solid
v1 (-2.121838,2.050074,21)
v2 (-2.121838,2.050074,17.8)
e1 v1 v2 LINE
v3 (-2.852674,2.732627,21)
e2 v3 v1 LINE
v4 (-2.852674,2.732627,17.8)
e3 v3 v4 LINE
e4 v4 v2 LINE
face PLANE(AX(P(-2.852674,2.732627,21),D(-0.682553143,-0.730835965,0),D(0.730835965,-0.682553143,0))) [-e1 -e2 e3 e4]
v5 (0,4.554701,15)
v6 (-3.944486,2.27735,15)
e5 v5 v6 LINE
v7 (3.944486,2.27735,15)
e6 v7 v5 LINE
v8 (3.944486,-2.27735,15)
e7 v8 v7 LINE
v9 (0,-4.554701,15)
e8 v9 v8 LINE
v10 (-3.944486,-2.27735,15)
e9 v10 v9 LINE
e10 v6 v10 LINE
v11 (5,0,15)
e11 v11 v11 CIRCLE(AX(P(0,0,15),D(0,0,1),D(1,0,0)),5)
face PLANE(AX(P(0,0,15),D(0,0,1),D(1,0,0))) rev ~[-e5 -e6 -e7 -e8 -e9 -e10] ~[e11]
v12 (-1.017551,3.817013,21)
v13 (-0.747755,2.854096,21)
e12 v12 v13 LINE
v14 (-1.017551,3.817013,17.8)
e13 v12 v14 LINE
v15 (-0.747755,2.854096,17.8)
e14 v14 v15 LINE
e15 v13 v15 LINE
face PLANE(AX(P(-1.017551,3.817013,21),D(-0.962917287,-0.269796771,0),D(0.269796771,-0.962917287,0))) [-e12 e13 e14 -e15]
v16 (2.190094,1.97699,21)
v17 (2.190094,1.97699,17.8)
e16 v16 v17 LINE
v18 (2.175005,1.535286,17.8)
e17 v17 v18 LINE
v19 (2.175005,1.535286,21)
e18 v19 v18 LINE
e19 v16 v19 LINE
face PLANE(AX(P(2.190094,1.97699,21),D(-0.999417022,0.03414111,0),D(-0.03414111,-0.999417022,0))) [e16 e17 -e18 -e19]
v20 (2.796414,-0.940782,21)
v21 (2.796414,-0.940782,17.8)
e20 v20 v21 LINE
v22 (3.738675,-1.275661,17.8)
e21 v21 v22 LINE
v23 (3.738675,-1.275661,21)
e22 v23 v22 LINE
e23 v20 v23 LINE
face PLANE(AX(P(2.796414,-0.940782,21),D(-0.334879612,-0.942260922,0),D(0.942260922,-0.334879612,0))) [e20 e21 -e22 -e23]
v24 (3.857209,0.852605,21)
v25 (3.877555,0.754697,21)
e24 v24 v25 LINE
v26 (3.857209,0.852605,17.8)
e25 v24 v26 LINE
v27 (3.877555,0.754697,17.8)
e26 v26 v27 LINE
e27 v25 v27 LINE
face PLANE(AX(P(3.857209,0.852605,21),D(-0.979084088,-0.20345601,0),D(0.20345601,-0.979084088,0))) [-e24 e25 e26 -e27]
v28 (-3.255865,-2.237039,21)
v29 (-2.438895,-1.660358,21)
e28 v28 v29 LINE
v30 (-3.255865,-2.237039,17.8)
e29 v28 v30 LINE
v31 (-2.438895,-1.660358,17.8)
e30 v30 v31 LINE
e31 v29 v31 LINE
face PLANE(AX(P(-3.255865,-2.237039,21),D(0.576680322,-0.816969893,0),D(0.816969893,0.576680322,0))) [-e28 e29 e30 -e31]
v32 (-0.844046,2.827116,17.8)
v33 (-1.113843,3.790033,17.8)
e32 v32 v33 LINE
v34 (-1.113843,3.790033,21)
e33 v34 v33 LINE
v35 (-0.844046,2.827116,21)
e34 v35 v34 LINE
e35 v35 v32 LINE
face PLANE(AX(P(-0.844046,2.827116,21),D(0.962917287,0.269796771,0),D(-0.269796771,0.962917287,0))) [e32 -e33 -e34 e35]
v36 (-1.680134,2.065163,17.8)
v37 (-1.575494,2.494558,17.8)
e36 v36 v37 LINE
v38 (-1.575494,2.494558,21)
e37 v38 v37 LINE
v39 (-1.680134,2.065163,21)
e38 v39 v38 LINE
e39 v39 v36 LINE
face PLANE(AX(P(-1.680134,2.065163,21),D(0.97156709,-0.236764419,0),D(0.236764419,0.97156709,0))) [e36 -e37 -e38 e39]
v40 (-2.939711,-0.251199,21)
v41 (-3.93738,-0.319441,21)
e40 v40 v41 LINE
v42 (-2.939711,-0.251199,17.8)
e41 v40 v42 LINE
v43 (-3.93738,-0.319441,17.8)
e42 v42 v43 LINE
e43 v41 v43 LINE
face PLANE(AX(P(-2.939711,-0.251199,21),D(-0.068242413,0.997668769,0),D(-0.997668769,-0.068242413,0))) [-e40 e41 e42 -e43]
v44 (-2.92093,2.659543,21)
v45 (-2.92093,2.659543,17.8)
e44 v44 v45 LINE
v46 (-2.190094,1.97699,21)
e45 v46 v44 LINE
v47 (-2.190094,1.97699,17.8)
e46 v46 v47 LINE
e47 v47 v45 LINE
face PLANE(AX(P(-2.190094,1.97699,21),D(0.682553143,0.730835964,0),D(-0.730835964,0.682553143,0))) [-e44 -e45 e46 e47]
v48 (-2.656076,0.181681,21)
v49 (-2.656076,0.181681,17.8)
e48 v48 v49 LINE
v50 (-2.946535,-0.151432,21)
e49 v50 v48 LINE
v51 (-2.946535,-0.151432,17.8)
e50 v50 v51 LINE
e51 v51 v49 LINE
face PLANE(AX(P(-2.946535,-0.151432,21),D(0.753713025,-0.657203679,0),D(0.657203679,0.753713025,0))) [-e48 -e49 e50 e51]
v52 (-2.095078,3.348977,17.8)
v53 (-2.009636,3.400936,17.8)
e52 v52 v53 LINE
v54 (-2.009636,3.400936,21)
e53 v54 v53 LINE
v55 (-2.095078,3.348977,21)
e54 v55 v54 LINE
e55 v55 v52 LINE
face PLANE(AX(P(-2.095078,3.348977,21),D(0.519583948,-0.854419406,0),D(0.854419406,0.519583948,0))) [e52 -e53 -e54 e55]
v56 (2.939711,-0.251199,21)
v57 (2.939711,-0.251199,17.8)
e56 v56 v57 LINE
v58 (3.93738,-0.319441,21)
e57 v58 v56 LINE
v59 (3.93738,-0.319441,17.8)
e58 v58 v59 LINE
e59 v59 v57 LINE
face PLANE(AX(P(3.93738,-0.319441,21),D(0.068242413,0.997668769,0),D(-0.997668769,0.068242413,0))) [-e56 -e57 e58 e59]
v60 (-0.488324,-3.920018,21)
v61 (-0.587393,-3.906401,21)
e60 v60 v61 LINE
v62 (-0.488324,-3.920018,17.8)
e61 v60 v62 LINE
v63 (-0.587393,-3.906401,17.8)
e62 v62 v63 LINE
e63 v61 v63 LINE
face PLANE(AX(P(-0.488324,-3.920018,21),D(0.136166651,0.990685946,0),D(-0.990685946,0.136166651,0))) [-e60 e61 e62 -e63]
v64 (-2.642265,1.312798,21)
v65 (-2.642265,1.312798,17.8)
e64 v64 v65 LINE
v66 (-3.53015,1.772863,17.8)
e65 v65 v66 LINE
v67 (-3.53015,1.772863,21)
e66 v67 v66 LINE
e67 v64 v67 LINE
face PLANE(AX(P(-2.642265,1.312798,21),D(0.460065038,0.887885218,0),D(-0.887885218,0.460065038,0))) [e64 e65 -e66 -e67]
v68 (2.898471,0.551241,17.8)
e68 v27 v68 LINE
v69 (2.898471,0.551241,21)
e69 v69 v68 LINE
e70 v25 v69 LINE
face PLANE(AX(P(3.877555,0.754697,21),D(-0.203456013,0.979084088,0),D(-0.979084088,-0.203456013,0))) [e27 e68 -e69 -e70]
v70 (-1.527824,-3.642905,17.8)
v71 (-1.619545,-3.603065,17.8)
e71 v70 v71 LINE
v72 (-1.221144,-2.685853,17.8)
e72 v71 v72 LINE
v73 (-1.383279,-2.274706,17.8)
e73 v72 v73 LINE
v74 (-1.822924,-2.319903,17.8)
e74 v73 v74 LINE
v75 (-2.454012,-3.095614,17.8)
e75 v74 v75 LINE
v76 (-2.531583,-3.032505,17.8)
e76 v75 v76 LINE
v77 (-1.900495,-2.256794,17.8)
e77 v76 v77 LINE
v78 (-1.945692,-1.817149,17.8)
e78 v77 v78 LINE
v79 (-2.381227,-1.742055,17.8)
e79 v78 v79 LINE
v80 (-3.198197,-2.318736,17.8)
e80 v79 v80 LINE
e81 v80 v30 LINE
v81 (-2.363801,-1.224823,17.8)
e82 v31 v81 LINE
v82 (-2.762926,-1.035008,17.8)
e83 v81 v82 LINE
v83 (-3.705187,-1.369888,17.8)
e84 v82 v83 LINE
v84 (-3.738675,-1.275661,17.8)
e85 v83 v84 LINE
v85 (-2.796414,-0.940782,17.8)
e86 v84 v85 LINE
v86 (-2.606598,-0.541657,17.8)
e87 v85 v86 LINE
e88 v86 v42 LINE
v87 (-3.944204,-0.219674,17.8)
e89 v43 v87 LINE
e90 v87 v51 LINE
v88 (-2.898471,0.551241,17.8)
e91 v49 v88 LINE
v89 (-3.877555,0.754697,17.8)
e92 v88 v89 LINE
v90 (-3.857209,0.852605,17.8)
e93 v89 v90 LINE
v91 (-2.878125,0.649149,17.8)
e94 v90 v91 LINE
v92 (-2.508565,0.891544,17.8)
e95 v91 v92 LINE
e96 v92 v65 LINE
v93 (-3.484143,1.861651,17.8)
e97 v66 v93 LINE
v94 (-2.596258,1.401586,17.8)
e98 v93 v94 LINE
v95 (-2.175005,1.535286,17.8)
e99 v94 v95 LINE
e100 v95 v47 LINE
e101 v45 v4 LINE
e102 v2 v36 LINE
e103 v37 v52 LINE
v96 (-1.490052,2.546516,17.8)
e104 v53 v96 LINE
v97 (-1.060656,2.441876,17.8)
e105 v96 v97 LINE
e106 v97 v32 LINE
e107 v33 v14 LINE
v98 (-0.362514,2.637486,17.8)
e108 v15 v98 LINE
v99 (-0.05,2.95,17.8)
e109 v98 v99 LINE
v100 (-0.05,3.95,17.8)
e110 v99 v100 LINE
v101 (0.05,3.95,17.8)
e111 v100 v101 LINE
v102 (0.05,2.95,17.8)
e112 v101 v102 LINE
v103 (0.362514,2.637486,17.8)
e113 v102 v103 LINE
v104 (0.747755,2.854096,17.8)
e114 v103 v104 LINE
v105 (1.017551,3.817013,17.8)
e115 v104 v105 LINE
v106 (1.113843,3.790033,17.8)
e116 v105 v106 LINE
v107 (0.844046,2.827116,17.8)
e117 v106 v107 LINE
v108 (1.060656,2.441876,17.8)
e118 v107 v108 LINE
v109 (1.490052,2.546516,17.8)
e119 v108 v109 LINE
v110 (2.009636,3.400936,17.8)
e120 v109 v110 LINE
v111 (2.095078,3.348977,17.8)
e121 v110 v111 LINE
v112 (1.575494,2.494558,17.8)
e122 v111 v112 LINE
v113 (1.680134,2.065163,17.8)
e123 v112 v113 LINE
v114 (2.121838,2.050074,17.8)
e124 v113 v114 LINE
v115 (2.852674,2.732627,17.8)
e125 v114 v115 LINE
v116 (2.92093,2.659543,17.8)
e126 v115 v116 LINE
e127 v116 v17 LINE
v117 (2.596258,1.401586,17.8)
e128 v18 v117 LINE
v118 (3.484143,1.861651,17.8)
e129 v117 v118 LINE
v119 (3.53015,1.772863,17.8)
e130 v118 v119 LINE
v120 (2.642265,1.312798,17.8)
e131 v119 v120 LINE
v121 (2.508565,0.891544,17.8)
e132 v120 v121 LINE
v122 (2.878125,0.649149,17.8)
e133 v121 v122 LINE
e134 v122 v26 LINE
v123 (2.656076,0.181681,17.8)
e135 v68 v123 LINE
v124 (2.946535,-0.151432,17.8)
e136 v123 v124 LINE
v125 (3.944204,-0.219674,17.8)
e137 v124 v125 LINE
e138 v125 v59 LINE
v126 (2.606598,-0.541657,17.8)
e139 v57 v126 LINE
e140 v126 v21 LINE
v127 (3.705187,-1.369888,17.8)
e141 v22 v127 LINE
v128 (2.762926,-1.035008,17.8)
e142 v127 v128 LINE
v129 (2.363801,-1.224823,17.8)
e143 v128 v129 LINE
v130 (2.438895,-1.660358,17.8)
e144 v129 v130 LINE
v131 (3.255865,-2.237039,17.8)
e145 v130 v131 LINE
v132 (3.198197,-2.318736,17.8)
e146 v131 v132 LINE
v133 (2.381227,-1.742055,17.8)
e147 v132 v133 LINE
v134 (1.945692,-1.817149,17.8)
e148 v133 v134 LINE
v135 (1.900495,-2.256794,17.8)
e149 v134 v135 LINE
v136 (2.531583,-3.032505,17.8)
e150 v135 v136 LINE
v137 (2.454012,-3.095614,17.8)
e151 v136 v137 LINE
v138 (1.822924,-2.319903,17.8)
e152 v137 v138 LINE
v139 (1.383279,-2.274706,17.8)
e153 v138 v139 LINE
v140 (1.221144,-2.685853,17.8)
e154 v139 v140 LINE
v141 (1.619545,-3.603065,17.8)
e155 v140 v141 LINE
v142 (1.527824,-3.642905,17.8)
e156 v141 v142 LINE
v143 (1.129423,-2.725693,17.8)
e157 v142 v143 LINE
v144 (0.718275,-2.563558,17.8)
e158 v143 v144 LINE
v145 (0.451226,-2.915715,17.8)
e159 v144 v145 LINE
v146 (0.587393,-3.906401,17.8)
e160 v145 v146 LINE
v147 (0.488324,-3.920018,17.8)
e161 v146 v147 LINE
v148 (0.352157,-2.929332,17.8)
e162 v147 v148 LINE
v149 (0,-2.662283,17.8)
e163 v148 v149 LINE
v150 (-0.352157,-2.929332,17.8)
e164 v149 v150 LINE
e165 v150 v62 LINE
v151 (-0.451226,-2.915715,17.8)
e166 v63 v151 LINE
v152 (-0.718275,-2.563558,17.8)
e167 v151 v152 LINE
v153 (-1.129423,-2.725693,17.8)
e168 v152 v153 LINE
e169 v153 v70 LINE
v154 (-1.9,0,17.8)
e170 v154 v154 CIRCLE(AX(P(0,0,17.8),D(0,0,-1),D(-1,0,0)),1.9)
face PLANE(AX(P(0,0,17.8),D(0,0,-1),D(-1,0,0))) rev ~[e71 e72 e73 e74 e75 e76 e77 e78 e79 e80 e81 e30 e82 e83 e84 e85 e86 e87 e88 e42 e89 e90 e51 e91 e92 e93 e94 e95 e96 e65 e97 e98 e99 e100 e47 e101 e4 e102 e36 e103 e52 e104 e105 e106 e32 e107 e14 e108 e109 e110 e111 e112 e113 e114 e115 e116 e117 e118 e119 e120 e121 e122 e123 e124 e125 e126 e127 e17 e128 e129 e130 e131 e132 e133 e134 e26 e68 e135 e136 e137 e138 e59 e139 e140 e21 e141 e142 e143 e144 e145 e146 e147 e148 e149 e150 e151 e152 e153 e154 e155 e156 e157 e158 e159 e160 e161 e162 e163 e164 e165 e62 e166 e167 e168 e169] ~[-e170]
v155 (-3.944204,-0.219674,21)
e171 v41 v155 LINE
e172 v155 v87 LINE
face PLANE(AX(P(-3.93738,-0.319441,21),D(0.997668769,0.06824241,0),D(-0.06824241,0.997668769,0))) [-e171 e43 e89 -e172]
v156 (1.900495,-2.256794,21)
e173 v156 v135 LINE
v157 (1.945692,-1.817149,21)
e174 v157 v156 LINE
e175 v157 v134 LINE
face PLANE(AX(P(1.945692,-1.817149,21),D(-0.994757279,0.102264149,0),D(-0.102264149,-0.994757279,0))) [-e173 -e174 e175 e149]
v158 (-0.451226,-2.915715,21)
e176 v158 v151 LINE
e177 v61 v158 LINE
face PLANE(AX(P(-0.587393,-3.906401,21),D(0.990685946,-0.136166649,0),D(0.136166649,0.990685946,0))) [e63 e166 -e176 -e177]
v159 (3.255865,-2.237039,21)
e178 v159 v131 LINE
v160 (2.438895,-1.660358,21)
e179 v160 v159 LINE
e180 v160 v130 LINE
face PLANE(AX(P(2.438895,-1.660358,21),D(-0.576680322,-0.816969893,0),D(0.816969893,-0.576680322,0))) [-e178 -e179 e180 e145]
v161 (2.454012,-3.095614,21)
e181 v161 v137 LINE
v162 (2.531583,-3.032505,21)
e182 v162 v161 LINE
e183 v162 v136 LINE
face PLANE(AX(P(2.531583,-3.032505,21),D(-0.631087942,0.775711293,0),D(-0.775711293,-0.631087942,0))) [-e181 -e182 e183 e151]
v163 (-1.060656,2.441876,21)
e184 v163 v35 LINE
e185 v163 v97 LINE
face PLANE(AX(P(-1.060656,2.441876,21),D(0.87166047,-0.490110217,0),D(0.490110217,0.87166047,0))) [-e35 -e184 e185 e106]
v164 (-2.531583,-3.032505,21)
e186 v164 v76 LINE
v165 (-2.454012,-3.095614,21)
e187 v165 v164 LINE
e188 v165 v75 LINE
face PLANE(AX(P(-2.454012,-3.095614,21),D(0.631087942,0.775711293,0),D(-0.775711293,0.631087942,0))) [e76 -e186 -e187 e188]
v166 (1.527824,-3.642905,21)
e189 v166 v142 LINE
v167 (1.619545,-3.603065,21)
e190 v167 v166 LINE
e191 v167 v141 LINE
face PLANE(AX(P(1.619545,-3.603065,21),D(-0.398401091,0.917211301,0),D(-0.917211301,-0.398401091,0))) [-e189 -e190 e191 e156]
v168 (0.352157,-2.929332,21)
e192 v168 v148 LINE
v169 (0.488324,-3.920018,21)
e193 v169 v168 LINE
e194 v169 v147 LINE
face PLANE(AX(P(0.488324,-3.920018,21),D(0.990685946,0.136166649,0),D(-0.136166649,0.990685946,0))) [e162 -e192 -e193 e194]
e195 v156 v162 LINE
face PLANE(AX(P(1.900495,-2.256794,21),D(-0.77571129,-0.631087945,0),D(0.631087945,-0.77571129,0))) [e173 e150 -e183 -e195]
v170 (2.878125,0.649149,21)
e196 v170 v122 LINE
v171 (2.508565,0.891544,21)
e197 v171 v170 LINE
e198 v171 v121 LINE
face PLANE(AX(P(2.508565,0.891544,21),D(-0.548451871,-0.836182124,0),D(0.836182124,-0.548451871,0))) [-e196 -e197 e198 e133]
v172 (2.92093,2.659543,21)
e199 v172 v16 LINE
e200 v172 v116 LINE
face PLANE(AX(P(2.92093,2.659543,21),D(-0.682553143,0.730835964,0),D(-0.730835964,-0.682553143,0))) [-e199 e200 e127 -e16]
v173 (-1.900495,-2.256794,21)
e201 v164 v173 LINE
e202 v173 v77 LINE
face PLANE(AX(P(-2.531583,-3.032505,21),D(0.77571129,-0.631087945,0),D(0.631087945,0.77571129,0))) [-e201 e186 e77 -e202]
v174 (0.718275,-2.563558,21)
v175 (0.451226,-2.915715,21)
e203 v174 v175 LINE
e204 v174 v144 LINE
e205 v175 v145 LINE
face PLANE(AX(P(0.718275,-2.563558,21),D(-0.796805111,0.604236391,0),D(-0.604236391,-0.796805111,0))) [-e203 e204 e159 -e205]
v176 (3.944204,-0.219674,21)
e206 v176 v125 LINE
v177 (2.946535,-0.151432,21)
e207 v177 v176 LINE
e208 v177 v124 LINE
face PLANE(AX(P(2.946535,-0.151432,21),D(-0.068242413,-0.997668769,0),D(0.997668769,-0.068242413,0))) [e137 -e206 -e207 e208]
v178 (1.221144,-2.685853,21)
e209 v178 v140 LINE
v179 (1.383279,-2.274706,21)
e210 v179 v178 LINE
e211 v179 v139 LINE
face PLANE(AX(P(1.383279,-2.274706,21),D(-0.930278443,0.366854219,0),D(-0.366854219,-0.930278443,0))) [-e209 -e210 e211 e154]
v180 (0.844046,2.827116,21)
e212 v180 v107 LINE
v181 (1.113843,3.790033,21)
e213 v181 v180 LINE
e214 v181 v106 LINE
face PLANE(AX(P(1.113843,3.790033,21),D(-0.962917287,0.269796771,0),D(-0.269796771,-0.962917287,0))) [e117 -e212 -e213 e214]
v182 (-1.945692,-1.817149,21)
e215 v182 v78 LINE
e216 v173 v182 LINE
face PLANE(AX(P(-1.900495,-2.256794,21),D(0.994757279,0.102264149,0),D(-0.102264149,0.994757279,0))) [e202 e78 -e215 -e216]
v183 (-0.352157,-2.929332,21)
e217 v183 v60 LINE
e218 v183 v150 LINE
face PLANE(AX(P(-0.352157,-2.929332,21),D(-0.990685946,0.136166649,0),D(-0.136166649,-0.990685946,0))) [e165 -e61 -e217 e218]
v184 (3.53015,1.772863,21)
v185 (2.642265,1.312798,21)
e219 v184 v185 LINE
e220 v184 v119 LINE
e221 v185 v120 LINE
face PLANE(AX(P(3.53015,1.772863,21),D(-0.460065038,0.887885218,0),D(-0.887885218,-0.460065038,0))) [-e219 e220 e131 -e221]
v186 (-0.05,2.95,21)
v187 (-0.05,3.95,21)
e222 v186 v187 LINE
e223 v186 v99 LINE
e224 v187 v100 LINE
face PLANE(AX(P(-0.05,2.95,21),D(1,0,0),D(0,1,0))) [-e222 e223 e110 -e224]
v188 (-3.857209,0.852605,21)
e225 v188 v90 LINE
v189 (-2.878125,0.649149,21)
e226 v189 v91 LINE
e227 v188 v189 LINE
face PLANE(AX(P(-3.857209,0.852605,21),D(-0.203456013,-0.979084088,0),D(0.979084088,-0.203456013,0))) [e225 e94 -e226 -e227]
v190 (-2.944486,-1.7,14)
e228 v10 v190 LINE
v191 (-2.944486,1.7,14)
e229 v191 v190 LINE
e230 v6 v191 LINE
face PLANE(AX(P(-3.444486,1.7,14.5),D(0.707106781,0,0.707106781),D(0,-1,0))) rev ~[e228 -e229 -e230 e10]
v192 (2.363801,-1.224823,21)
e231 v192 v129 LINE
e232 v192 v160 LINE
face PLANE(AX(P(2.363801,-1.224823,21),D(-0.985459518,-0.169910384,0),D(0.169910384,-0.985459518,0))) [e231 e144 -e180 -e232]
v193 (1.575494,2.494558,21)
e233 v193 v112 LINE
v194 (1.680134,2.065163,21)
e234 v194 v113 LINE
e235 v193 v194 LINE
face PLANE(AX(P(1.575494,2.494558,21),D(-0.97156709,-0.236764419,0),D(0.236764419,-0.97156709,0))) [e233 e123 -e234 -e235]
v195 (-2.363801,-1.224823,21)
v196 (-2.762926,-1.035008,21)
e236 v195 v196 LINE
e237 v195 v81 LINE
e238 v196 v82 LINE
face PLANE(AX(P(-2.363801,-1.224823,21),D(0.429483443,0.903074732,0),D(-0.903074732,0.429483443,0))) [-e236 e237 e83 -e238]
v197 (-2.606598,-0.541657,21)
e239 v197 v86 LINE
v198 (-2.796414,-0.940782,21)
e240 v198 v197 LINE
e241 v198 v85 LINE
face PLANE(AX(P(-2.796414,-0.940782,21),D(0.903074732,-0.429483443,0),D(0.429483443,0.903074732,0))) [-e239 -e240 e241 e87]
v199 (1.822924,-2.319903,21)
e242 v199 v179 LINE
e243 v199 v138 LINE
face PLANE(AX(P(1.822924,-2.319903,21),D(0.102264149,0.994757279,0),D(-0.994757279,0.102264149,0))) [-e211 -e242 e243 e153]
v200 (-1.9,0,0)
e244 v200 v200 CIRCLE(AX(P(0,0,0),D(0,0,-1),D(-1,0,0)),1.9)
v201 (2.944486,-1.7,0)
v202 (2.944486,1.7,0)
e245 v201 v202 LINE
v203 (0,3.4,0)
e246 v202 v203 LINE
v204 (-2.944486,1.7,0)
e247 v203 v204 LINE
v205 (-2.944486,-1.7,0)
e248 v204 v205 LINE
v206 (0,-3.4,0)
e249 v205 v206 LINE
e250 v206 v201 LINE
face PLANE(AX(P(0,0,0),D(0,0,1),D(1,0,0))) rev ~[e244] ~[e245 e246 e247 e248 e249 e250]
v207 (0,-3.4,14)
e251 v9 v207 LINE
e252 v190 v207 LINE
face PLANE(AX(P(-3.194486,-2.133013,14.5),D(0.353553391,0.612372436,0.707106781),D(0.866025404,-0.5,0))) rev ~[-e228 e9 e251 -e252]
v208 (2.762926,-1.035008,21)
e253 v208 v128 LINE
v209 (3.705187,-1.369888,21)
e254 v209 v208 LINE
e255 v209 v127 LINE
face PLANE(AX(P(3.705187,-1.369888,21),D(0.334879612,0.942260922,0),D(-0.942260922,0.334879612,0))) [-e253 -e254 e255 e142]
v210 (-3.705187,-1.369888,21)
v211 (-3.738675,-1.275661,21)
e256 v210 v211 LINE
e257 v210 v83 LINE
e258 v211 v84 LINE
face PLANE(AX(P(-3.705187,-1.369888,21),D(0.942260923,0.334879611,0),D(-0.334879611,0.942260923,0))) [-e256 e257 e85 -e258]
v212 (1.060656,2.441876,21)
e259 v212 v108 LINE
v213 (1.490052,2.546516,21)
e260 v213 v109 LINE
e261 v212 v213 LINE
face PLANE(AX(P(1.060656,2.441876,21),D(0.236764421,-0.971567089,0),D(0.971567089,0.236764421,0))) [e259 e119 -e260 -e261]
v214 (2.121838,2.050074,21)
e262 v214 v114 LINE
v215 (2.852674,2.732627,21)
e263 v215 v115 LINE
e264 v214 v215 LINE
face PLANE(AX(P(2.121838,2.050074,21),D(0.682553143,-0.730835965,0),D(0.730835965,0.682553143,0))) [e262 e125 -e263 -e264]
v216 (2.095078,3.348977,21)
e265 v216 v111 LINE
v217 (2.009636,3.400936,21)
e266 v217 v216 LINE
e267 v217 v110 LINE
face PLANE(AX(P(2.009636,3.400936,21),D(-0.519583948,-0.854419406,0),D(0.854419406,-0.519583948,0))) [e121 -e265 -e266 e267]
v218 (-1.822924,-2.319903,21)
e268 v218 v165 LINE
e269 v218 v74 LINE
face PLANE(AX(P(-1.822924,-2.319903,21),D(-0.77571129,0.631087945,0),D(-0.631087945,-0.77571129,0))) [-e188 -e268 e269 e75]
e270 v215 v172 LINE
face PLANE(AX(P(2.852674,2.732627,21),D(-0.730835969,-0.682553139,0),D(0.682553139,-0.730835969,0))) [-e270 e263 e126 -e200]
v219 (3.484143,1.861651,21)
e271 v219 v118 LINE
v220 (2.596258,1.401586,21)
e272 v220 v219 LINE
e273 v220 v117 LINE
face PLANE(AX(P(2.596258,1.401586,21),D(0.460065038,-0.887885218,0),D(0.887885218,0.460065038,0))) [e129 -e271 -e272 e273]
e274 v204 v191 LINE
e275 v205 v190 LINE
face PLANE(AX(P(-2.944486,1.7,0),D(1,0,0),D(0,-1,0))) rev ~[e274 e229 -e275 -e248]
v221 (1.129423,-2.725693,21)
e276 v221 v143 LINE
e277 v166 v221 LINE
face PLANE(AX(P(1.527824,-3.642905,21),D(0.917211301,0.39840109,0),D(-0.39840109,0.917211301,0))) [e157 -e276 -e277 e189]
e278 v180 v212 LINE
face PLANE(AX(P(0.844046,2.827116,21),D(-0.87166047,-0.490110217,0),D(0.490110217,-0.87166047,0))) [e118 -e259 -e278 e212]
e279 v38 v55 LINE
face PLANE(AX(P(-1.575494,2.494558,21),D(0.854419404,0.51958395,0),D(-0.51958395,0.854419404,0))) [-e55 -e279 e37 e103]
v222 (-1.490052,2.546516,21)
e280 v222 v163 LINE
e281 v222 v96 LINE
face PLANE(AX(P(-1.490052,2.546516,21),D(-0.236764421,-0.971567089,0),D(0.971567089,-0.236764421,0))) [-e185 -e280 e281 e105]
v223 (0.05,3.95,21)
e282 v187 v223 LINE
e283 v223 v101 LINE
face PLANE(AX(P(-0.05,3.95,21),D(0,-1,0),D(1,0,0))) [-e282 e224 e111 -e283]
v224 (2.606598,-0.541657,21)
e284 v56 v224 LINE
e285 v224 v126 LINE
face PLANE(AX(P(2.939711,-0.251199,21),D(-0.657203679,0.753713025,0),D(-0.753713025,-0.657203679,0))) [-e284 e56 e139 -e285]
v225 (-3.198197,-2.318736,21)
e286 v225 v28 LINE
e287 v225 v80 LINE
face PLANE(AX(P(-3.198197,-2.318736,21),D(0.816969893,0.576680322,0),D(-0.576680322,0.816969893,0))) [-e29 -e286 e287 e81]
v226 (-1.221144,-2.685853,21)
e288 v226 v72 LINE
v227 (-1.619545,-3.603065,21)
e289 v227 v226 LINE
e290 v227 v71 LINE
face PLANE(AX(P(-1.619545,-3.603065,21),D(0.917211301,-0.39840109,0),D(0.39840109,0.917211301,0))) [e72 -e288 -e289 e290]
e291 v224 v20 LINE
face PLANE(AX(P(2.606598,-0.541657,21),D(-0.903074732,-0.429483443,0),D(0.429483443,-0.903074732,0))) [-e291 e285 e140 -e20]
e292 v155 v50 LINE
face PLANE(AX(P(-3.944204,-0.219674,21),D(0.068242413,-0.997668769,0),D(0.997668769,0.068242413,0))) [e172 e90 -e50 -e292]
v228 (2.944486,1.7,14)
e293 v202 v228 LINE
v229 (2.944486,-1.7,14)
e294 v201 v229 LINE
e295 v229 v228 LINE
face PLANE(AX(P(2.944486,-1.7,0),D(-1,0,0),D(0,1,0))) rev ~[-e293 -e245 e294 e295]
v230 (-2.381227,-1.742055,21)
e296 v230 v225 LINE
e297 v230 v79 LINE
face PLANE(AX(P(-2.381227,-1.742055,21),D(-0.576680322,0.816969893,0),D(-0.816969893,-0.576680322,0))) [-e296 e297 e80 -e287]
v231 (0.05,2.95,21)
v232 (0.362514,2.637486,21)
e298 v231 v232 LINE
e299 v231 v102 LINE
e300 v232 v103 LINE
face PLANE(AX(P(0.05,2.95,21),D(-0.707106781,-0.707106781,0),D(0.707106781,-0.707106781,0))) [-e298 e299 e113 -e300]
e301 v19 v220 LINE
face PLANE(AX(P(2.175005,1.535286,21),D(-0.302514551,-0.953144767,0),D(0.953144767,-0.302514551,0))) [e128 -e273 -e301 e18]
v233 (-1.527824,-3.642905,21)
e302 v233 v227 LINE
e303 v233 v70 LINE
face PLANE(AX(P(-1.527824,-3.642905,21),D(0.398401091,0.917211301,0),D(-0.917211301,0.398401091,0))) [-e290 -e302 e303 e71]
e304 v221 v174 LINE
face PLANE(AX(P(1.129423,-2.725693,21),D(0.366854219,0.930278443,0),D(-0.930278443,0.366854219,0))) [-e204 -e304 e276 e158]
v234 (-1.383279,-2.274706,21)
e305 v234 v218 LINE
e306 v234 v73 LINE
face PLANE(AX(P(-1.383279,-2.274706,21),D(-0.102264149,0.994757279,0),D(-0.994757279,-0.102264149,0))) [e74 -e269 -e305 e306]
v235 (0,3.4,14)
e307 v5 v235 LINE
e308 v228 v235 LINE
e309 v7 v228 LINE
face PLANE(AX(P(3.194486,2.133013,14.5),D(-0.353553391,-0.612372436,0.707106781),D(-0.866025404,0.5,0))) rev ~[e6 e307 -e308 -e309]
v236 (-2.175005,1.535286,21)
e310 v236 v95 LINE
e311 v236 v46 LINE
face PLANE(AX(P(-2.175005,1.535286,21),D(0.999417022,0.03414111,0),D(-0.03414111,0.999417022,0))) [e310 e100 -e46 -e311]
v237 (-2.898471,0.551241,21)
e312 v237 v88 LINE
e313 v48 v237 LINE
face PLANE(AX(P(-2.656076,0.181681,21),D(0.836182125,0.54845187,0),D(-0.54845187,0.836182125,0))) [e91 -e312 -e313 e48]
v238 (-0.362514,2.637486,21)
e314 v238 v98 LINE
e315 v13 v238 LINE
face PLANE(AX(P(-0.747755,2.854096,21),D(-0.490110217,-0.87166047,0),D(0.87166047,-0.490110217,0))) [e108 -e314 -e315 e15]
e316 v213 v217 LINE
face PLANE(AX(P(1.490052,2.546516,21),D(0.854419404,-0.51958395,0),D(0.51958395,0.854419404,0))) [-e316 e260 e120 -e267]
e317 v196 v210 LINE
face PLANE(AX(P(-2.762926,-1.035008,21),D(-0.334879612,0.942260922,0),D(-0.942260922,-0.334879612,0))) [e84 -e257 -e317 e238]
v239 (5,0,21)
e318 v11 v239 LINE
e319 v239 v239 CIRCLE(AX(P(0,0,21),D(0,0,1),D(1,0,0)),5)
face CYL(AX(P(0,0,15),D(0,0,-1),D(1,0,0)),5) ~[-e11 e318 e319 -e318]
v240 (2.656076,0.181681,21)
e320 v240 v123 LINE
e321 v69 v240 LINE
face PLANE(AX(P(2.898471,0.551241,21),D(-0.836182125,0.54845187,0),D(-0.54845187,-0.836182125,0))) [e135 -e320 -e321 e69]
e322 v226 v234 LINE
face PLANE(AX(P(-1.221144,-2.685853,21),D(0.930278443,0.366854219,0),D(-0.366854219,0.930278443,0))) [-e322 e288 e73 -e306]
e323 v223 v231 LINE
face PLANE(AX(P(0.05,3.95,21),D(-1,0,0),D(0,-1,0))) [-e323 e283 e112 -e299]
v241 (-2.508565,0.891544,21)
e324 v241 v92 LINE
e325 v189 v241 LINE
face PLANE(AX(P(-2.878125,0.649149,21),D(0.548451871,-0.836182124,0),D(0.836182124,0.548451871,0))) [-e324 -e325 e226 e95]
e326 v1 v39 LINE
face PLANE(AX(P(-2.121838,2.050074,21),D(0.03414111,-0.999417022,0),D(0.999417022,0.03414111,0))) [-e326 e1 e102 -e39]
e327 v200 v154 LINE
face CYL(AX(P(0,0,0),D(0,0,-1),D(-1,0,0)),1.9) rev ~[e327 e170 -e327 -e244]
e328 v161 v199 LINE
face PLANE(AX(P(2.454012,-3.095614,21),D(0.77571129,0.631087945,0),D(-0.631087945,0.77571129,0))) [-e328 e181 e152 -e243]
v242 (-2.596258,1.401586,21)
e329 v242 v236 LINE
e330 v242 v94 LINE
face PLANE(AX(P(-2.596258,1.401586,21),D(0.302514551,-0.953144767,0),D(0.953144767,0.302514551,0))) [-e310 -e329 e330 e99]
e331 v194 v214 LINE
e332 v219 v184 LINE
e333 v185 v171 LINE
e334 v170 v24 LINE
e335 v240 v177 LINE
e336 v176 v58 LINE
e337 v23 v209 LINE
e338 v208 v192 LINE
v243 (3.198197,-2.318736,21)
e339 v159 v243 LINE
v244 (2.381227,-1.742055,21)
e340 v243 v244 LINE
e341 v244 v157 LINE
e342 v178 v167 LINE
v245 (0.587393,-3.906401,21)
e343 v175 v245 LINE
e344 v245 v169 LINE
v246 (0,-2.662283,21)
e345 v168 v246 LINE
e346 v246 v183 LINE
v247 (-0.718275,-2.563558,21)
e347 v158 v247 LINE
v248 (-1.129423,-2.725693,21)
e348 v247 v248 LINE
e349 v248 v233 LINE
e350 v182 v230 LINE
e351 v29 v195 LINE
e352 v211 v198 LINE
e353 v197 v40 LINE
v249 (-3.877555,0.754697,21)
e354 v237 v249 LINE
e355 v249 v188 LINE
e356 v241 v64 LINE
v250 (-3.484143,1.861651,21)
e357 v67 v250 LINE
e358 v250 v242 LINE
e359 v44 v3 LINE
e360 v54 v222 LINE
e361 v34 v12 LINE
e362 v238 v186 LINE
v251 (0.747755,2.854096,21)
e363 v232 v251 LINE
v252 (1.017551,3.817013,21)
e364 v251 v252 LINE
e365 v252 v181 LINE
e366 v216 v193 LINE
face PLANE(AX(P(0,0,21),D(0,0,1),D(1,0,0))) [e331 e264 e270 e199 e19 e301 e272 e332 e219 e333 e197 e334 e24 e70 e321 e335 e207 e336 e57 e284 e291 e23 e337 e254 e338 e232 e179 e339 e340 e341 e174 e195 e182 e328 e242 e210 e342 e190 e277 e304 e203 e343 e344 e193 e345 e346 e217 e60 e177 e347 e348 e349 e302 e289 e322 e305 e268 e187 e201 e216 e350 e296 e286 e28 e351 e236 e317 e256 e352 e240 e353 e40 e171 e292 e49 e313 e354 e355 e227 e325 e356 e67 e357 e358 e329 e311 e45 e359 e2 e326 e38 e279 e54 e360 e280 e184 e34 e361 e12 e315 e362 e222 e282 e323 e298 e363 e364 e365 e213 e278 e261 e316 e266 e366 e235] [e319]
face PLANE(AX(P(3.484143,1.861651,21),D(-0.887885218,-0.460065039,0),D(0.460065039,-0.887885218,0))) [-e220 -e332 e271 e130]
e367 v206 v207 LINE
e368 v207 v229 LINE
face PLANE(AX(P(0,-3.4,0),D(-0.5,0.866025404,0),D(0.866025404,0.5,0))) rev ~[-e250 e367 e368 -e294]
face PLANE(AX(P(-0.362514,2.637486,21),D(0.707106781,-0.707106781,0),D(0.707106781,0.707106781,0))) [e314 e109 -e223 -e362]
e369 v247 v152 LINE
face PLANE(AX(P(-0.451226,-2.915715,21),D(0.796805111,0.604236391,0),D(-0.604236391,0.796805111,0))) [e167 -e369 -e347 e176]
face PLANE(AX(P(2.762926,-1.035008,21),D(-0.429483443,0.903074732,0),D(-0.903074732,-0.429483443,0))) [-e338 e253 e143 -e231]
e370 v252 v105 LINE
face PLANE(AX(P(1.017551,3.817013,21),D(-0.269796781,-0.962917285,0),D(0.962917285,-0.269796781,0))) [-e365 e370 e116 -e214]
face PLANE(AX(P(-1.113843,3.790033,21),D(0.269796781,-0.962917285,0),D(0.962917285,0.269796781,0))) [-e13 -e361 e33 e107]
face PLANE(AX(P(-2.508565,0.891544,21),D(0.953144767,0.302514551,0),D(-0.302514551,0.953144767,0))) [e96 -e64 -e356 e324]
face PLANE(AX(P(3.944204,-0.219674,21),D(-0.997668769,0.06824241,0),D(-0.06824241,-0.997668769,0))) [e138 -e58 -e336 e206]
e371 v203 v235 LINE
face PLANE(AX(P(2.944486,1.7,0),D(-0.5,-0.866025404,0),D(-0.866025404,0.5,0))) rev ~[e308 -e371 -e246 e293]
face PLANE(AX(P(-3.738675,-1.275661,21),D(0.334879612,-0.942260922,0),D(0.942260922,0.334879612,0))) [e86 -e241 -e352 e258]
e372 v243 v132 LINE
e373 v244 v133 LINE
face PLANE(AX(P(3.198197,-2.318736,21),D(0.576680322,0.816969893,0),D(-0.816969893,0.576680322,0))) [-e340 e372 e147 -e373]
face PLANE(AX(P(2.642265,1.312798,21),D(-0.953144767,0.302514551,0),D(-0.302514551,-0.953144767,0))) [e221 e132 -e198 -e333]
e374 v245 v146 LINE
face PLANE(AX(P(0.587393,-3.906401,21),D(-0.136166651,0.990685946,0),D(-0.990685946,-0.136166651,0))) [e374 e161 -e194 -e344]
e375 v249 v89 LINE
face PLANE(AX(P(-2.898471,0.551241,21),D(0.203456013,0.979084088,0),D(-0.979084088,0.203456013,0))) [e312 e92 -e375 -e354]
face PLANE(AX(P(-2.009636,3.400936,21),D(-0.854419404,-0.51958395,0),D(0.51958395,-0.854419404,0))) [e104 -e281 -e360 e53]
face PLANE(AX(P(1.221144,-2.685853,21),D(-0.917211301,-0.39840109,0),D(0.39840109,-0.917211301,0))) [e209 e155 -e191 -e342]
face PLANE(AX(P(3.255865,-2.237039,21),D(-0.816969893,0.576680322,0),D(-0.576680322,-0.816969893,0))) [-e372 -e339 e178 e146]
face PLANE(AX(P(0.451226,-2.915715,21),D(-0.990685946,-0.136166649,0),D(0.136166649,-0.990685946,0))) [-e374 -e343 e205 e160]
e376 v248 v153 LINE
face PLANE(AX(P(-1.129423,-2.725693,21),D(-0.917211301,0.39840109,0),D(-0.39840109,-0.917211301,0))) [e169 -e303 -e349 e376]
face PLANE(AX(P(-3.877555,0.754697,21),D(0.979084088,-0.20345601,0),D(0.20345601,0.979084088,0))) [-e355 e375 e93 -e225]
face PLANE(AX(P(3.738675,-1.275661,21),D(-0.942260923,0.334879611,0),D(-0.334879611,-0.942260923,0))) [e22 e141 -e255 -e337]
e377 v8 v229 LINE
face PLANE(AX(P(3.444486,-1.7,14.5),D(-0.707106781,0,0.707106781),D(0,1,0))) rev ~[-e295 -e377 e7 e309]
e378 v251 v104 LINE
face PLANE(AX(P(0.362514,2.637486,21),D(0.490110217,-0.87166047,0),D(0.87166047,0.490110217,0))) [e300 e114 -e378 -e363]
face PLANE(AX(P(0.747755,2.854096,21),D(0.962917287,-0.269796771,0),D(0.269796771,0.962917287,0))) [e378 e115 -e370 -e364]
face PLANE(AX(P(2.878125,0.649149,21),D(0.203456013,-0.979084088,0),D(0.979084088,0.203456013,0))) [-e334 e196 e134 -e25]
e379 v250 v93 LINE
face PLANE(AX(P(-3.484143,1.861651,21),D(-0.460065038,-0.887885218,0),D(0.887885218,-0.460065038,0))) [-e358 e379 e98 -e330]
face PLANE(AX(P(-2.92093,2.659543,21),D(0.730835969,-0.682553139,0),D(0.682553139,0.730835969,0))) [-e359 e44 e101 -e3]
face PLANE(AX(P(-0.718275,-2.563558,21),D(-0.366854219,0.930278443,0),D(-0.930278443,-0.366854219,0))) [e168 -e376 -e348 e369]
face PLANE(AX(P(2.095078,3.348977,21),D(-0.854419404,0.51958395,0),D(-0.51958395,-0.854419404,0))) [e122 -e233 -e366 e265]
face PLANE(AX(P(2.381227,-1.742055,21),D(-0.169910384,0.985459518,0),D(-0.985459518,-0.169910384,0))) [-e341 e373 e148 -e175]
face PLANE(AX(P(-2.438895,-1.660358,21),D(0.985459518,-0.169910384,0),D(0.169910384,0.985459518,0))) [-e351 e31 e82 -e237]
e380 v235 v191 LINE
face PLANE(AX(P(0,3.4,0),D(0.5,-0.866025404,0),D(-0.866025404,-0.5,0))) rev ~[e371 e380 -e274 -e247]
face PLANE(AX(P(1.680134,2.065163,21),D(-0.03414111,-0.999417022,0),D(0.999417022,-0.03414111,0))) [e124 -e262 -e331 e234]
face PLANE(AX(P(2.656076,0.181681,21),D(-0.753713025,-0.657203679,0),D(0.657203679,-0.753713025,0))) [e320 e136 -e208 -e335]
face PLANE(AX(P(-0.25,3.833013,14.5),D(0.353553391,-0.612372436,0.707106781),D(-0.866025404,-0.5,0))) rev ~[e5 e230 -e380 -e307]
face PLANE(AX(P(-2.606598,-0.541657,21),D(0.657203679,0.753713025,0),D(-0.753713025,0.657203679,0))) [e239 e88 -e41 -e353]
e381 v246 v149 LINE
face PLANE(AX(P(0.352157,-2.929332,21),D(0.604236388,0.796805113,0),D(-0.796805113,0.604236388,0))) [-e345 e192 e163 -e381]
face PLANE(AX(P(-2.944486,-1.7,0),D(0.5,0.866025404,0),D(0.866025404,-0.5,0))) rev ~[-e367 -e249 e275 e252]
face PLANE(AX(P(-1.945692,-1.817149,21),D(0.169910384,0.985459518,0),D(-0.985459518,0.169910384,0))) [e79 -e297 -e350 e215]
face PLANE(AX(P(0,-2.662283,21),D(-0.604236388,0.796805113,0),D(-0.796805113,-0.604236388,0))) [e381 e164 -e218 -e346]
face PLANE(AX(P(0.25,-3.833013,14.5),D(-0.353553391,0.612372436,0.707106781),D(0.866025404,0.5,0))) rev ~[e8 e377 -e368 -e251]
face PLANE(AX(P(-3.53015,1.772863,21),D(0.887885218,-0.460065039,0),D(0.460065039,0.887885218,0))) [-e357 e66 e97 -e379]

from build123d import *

# Parameters (mm, degrees)
EXTRUDE_1_DEPTH     = 15
SKETCH_6_R          = 5
EXTRUDE_3_DEPTH     = 6
CUT_EXTRUDE_5_DEPTH = 3.2
CHAMFER_1_SIZE      = 1
SKETCH_7_R          = 1.9
CUT_EXTRUDE_6_DEPTH = 23.158519806


with BuildPart() as part:
    # ｽｹｯﾁ1 → ﾎﾞｽ - 押し出し1 (new body)
    with BuildSketch(Plane.XY):
        Polygon((0, 3.4), (-2.944486373, 1.7), (-2.944486373, -1.7), (0, -3.4), (2.944486373, -1.7), (2.944486373, 1.7), align=None)
    extrude(amount=EXTRUDE_1_DEPTH)

    # ｽｹｯﾁ6 → ﾎﾞｽ - 押し出し3 (add)
    with BuildSketch(Plane.XY.offset(15)):
        Circle(SKETCH_6_R)
    extrude(amount=EXTRUDE_3_DEPTH)

    # ｽｹｯﾁ5 → ｶｯﾄ - 押し出し5 (cut)
    with BuildSketch(Plane.XY.offset(21)):
        Polygon((-0.05, 2.95), (-0.05, 3.95), (0.05, 3.95), (0.05, 2.95), (0.362514094, 2.637485906), (0.747754611, 2.854095836), (1.017551382, 3.817013124), (1.11384311, 3.790033446), (0.844046339, 2.827116159), (1.060656269, 2.441875642), (1.490051682, 2.546516441), (2.009635632, 3.400935845), (2.095077573, 3.34897745), (1.575493623, 2.494558046), (1.680134421, 2.065162633), (2.121838437, 2.050073571), (2.852674402, 2.732626714), (2.920929716, 2.659543117), (2.190093752, 1.976989974), (2.17500469, 1.535285958), (2.596258142, 1.401586122), (3.484143361, 1.86165116), (3.530149865, 1.772862638), (2.642264646, 1.3127976), (2.50856481, 0.891544148), (2.878125258, 0.649149443), (3.857209346, 0.852605456), (3.877554947, 0.754697047), (2.898470859, 0.551241034), (2.656076155, 0.181680586), (2.94653499, -0.151431681), (3.944203759, -0.219674094), (3.937379518, -0.319440971), (2.939710748, -0.251198558), (2.606598481, -0.541657393), (2.796413701, -0.94078181), (3.738674623, -1.275661422), (3.705186662, -1.369887514), (2.76292574, -1.035007902), (2.363801323, -1.224823122), (2.4388952, -1.660358456), (3.255865093, -2.237038778), (3.198197061, -2.318735767), (2.381227168, -1.742055445), (1.945691834, -1.817149322), (1.900495, -2.25679391), (2.531582945, -3.032505201), (2.454011816, -3.095613995), (1.822923871, -2.319902705), (1.383279283, -2.274705871), (1.22114378, -2.685853285), (1.61954487, -3.603064586), (1.52782374, -3.642904695), (1.12942265, -2.725693394), (0.718275236, -2.563557891), (0.451225912, -2.915715208), (0.587392561, -3.906401154), (0.488323967, -3.920017819), (0.352157318, -2.929331873), (0, -2.66228255), (-0.352157318, -2.929331873), (-0.488323967, -3.920017819), (-0.587392561, -3.906401154), (-0.451225912, -2.915715208), (-0.718275236, -2.563557891), (-1.12942265, -2.725693394), (-1.52782374, -3.642904695), (-1.61954487, -3.603064586), (-1.22114378, -2.685853285), (-1.383279283, -2.274705871), (-1.822923871, -2.319902705), (-2.454011816, -3.095613995), (-2.531582945, -3.032505201), (-1.900495, -2.25679391), (-1.945691834, -1.817149322), (-2.381227168, -1.742055445), (-3.198197061, -2.318735767), (-3.255865093, -2.237038778), (-2.4388952, -1.660358456), (-2.363801323, -1.224823122), (-2.76292574, -1.035007902), (-3.705186662, -1.369887514), (-3.738674623, -1.275661422), (-2.796413701, -0.94078181), (-2.606598481, -0.541657393), (-2.939710748, -0.251198558), (-3.937379518, -0.319440971), (-3.944203759, -0.219674094), (-2.94653499, -0.151431681), (-2.656076155, 0.181680586), (-2.898470859, 0.551241034), (-3.877554947, 0.754697047), (-3.857209346, 0.852605456), (-2.878125258, 0.649149443), (-2.50856481, 0.891544148), (-2.642264646, 1.3127976), (-3.530149865, 1.772862638), (-3.484143361, 1.86165116), (-2.596258142, 1.401586122), (-2.17500469, 1.535285958), (-2.190093752, 1.976989974), (-2.920929716, 2.659543117), (-2.852674402, 2.732626714), (-2.121838437, 2.050073571), (-1.680134421, 2.065162633), (-1.575493623, 2.494558046), (-2.095077573, 3.34897745), (-2.009635632, 3.400935845), (-1.490051682, 2.546516441), (-1.060656269, 2.441875642), (-0.844046339, 2.827116159), (-1.11384311, 3.790033446), (-1.017551382, 3.817013124), (-0.747754611, 2.854095836), (-0.362514094, 2.637485906), align=None)
    extrude(amount=-CUT_EXTRUDE_5_DEPTH, mode=Mode.SUBTRACT)

    # 面取り1
    chamfer_1_edges = [part.edges().sort_by_distance(p)[0] for p in [
        (-2.944486373, 0, 15),
        (-1.472243186, -2.55, 15),
        (1.472243186, -2.55, 15),
        (2.944486373, 0, 15),
        (1.472243186, 2.55, 15),
        (-1.472243186, 2.55, 15),
    ]]
    chamfer(chamfer_1_edges, length=CHAMFER_1_SIZE)

    # ｽｹｯﾁ7 → ｶｯﾄ - 押し出し6 (cut, through all)
    with BuildSketch(Plane(origin=(0, 0, 0), x_dir=(-1, 0, 0), z_dir=(0, 0, -1))):
        Circle(SKETCH_7_R)
    extrude(amount=-CUT_EXTRUDE_6_DEPTH, mode=Mode.SUBTRACT)


solid = part.part
